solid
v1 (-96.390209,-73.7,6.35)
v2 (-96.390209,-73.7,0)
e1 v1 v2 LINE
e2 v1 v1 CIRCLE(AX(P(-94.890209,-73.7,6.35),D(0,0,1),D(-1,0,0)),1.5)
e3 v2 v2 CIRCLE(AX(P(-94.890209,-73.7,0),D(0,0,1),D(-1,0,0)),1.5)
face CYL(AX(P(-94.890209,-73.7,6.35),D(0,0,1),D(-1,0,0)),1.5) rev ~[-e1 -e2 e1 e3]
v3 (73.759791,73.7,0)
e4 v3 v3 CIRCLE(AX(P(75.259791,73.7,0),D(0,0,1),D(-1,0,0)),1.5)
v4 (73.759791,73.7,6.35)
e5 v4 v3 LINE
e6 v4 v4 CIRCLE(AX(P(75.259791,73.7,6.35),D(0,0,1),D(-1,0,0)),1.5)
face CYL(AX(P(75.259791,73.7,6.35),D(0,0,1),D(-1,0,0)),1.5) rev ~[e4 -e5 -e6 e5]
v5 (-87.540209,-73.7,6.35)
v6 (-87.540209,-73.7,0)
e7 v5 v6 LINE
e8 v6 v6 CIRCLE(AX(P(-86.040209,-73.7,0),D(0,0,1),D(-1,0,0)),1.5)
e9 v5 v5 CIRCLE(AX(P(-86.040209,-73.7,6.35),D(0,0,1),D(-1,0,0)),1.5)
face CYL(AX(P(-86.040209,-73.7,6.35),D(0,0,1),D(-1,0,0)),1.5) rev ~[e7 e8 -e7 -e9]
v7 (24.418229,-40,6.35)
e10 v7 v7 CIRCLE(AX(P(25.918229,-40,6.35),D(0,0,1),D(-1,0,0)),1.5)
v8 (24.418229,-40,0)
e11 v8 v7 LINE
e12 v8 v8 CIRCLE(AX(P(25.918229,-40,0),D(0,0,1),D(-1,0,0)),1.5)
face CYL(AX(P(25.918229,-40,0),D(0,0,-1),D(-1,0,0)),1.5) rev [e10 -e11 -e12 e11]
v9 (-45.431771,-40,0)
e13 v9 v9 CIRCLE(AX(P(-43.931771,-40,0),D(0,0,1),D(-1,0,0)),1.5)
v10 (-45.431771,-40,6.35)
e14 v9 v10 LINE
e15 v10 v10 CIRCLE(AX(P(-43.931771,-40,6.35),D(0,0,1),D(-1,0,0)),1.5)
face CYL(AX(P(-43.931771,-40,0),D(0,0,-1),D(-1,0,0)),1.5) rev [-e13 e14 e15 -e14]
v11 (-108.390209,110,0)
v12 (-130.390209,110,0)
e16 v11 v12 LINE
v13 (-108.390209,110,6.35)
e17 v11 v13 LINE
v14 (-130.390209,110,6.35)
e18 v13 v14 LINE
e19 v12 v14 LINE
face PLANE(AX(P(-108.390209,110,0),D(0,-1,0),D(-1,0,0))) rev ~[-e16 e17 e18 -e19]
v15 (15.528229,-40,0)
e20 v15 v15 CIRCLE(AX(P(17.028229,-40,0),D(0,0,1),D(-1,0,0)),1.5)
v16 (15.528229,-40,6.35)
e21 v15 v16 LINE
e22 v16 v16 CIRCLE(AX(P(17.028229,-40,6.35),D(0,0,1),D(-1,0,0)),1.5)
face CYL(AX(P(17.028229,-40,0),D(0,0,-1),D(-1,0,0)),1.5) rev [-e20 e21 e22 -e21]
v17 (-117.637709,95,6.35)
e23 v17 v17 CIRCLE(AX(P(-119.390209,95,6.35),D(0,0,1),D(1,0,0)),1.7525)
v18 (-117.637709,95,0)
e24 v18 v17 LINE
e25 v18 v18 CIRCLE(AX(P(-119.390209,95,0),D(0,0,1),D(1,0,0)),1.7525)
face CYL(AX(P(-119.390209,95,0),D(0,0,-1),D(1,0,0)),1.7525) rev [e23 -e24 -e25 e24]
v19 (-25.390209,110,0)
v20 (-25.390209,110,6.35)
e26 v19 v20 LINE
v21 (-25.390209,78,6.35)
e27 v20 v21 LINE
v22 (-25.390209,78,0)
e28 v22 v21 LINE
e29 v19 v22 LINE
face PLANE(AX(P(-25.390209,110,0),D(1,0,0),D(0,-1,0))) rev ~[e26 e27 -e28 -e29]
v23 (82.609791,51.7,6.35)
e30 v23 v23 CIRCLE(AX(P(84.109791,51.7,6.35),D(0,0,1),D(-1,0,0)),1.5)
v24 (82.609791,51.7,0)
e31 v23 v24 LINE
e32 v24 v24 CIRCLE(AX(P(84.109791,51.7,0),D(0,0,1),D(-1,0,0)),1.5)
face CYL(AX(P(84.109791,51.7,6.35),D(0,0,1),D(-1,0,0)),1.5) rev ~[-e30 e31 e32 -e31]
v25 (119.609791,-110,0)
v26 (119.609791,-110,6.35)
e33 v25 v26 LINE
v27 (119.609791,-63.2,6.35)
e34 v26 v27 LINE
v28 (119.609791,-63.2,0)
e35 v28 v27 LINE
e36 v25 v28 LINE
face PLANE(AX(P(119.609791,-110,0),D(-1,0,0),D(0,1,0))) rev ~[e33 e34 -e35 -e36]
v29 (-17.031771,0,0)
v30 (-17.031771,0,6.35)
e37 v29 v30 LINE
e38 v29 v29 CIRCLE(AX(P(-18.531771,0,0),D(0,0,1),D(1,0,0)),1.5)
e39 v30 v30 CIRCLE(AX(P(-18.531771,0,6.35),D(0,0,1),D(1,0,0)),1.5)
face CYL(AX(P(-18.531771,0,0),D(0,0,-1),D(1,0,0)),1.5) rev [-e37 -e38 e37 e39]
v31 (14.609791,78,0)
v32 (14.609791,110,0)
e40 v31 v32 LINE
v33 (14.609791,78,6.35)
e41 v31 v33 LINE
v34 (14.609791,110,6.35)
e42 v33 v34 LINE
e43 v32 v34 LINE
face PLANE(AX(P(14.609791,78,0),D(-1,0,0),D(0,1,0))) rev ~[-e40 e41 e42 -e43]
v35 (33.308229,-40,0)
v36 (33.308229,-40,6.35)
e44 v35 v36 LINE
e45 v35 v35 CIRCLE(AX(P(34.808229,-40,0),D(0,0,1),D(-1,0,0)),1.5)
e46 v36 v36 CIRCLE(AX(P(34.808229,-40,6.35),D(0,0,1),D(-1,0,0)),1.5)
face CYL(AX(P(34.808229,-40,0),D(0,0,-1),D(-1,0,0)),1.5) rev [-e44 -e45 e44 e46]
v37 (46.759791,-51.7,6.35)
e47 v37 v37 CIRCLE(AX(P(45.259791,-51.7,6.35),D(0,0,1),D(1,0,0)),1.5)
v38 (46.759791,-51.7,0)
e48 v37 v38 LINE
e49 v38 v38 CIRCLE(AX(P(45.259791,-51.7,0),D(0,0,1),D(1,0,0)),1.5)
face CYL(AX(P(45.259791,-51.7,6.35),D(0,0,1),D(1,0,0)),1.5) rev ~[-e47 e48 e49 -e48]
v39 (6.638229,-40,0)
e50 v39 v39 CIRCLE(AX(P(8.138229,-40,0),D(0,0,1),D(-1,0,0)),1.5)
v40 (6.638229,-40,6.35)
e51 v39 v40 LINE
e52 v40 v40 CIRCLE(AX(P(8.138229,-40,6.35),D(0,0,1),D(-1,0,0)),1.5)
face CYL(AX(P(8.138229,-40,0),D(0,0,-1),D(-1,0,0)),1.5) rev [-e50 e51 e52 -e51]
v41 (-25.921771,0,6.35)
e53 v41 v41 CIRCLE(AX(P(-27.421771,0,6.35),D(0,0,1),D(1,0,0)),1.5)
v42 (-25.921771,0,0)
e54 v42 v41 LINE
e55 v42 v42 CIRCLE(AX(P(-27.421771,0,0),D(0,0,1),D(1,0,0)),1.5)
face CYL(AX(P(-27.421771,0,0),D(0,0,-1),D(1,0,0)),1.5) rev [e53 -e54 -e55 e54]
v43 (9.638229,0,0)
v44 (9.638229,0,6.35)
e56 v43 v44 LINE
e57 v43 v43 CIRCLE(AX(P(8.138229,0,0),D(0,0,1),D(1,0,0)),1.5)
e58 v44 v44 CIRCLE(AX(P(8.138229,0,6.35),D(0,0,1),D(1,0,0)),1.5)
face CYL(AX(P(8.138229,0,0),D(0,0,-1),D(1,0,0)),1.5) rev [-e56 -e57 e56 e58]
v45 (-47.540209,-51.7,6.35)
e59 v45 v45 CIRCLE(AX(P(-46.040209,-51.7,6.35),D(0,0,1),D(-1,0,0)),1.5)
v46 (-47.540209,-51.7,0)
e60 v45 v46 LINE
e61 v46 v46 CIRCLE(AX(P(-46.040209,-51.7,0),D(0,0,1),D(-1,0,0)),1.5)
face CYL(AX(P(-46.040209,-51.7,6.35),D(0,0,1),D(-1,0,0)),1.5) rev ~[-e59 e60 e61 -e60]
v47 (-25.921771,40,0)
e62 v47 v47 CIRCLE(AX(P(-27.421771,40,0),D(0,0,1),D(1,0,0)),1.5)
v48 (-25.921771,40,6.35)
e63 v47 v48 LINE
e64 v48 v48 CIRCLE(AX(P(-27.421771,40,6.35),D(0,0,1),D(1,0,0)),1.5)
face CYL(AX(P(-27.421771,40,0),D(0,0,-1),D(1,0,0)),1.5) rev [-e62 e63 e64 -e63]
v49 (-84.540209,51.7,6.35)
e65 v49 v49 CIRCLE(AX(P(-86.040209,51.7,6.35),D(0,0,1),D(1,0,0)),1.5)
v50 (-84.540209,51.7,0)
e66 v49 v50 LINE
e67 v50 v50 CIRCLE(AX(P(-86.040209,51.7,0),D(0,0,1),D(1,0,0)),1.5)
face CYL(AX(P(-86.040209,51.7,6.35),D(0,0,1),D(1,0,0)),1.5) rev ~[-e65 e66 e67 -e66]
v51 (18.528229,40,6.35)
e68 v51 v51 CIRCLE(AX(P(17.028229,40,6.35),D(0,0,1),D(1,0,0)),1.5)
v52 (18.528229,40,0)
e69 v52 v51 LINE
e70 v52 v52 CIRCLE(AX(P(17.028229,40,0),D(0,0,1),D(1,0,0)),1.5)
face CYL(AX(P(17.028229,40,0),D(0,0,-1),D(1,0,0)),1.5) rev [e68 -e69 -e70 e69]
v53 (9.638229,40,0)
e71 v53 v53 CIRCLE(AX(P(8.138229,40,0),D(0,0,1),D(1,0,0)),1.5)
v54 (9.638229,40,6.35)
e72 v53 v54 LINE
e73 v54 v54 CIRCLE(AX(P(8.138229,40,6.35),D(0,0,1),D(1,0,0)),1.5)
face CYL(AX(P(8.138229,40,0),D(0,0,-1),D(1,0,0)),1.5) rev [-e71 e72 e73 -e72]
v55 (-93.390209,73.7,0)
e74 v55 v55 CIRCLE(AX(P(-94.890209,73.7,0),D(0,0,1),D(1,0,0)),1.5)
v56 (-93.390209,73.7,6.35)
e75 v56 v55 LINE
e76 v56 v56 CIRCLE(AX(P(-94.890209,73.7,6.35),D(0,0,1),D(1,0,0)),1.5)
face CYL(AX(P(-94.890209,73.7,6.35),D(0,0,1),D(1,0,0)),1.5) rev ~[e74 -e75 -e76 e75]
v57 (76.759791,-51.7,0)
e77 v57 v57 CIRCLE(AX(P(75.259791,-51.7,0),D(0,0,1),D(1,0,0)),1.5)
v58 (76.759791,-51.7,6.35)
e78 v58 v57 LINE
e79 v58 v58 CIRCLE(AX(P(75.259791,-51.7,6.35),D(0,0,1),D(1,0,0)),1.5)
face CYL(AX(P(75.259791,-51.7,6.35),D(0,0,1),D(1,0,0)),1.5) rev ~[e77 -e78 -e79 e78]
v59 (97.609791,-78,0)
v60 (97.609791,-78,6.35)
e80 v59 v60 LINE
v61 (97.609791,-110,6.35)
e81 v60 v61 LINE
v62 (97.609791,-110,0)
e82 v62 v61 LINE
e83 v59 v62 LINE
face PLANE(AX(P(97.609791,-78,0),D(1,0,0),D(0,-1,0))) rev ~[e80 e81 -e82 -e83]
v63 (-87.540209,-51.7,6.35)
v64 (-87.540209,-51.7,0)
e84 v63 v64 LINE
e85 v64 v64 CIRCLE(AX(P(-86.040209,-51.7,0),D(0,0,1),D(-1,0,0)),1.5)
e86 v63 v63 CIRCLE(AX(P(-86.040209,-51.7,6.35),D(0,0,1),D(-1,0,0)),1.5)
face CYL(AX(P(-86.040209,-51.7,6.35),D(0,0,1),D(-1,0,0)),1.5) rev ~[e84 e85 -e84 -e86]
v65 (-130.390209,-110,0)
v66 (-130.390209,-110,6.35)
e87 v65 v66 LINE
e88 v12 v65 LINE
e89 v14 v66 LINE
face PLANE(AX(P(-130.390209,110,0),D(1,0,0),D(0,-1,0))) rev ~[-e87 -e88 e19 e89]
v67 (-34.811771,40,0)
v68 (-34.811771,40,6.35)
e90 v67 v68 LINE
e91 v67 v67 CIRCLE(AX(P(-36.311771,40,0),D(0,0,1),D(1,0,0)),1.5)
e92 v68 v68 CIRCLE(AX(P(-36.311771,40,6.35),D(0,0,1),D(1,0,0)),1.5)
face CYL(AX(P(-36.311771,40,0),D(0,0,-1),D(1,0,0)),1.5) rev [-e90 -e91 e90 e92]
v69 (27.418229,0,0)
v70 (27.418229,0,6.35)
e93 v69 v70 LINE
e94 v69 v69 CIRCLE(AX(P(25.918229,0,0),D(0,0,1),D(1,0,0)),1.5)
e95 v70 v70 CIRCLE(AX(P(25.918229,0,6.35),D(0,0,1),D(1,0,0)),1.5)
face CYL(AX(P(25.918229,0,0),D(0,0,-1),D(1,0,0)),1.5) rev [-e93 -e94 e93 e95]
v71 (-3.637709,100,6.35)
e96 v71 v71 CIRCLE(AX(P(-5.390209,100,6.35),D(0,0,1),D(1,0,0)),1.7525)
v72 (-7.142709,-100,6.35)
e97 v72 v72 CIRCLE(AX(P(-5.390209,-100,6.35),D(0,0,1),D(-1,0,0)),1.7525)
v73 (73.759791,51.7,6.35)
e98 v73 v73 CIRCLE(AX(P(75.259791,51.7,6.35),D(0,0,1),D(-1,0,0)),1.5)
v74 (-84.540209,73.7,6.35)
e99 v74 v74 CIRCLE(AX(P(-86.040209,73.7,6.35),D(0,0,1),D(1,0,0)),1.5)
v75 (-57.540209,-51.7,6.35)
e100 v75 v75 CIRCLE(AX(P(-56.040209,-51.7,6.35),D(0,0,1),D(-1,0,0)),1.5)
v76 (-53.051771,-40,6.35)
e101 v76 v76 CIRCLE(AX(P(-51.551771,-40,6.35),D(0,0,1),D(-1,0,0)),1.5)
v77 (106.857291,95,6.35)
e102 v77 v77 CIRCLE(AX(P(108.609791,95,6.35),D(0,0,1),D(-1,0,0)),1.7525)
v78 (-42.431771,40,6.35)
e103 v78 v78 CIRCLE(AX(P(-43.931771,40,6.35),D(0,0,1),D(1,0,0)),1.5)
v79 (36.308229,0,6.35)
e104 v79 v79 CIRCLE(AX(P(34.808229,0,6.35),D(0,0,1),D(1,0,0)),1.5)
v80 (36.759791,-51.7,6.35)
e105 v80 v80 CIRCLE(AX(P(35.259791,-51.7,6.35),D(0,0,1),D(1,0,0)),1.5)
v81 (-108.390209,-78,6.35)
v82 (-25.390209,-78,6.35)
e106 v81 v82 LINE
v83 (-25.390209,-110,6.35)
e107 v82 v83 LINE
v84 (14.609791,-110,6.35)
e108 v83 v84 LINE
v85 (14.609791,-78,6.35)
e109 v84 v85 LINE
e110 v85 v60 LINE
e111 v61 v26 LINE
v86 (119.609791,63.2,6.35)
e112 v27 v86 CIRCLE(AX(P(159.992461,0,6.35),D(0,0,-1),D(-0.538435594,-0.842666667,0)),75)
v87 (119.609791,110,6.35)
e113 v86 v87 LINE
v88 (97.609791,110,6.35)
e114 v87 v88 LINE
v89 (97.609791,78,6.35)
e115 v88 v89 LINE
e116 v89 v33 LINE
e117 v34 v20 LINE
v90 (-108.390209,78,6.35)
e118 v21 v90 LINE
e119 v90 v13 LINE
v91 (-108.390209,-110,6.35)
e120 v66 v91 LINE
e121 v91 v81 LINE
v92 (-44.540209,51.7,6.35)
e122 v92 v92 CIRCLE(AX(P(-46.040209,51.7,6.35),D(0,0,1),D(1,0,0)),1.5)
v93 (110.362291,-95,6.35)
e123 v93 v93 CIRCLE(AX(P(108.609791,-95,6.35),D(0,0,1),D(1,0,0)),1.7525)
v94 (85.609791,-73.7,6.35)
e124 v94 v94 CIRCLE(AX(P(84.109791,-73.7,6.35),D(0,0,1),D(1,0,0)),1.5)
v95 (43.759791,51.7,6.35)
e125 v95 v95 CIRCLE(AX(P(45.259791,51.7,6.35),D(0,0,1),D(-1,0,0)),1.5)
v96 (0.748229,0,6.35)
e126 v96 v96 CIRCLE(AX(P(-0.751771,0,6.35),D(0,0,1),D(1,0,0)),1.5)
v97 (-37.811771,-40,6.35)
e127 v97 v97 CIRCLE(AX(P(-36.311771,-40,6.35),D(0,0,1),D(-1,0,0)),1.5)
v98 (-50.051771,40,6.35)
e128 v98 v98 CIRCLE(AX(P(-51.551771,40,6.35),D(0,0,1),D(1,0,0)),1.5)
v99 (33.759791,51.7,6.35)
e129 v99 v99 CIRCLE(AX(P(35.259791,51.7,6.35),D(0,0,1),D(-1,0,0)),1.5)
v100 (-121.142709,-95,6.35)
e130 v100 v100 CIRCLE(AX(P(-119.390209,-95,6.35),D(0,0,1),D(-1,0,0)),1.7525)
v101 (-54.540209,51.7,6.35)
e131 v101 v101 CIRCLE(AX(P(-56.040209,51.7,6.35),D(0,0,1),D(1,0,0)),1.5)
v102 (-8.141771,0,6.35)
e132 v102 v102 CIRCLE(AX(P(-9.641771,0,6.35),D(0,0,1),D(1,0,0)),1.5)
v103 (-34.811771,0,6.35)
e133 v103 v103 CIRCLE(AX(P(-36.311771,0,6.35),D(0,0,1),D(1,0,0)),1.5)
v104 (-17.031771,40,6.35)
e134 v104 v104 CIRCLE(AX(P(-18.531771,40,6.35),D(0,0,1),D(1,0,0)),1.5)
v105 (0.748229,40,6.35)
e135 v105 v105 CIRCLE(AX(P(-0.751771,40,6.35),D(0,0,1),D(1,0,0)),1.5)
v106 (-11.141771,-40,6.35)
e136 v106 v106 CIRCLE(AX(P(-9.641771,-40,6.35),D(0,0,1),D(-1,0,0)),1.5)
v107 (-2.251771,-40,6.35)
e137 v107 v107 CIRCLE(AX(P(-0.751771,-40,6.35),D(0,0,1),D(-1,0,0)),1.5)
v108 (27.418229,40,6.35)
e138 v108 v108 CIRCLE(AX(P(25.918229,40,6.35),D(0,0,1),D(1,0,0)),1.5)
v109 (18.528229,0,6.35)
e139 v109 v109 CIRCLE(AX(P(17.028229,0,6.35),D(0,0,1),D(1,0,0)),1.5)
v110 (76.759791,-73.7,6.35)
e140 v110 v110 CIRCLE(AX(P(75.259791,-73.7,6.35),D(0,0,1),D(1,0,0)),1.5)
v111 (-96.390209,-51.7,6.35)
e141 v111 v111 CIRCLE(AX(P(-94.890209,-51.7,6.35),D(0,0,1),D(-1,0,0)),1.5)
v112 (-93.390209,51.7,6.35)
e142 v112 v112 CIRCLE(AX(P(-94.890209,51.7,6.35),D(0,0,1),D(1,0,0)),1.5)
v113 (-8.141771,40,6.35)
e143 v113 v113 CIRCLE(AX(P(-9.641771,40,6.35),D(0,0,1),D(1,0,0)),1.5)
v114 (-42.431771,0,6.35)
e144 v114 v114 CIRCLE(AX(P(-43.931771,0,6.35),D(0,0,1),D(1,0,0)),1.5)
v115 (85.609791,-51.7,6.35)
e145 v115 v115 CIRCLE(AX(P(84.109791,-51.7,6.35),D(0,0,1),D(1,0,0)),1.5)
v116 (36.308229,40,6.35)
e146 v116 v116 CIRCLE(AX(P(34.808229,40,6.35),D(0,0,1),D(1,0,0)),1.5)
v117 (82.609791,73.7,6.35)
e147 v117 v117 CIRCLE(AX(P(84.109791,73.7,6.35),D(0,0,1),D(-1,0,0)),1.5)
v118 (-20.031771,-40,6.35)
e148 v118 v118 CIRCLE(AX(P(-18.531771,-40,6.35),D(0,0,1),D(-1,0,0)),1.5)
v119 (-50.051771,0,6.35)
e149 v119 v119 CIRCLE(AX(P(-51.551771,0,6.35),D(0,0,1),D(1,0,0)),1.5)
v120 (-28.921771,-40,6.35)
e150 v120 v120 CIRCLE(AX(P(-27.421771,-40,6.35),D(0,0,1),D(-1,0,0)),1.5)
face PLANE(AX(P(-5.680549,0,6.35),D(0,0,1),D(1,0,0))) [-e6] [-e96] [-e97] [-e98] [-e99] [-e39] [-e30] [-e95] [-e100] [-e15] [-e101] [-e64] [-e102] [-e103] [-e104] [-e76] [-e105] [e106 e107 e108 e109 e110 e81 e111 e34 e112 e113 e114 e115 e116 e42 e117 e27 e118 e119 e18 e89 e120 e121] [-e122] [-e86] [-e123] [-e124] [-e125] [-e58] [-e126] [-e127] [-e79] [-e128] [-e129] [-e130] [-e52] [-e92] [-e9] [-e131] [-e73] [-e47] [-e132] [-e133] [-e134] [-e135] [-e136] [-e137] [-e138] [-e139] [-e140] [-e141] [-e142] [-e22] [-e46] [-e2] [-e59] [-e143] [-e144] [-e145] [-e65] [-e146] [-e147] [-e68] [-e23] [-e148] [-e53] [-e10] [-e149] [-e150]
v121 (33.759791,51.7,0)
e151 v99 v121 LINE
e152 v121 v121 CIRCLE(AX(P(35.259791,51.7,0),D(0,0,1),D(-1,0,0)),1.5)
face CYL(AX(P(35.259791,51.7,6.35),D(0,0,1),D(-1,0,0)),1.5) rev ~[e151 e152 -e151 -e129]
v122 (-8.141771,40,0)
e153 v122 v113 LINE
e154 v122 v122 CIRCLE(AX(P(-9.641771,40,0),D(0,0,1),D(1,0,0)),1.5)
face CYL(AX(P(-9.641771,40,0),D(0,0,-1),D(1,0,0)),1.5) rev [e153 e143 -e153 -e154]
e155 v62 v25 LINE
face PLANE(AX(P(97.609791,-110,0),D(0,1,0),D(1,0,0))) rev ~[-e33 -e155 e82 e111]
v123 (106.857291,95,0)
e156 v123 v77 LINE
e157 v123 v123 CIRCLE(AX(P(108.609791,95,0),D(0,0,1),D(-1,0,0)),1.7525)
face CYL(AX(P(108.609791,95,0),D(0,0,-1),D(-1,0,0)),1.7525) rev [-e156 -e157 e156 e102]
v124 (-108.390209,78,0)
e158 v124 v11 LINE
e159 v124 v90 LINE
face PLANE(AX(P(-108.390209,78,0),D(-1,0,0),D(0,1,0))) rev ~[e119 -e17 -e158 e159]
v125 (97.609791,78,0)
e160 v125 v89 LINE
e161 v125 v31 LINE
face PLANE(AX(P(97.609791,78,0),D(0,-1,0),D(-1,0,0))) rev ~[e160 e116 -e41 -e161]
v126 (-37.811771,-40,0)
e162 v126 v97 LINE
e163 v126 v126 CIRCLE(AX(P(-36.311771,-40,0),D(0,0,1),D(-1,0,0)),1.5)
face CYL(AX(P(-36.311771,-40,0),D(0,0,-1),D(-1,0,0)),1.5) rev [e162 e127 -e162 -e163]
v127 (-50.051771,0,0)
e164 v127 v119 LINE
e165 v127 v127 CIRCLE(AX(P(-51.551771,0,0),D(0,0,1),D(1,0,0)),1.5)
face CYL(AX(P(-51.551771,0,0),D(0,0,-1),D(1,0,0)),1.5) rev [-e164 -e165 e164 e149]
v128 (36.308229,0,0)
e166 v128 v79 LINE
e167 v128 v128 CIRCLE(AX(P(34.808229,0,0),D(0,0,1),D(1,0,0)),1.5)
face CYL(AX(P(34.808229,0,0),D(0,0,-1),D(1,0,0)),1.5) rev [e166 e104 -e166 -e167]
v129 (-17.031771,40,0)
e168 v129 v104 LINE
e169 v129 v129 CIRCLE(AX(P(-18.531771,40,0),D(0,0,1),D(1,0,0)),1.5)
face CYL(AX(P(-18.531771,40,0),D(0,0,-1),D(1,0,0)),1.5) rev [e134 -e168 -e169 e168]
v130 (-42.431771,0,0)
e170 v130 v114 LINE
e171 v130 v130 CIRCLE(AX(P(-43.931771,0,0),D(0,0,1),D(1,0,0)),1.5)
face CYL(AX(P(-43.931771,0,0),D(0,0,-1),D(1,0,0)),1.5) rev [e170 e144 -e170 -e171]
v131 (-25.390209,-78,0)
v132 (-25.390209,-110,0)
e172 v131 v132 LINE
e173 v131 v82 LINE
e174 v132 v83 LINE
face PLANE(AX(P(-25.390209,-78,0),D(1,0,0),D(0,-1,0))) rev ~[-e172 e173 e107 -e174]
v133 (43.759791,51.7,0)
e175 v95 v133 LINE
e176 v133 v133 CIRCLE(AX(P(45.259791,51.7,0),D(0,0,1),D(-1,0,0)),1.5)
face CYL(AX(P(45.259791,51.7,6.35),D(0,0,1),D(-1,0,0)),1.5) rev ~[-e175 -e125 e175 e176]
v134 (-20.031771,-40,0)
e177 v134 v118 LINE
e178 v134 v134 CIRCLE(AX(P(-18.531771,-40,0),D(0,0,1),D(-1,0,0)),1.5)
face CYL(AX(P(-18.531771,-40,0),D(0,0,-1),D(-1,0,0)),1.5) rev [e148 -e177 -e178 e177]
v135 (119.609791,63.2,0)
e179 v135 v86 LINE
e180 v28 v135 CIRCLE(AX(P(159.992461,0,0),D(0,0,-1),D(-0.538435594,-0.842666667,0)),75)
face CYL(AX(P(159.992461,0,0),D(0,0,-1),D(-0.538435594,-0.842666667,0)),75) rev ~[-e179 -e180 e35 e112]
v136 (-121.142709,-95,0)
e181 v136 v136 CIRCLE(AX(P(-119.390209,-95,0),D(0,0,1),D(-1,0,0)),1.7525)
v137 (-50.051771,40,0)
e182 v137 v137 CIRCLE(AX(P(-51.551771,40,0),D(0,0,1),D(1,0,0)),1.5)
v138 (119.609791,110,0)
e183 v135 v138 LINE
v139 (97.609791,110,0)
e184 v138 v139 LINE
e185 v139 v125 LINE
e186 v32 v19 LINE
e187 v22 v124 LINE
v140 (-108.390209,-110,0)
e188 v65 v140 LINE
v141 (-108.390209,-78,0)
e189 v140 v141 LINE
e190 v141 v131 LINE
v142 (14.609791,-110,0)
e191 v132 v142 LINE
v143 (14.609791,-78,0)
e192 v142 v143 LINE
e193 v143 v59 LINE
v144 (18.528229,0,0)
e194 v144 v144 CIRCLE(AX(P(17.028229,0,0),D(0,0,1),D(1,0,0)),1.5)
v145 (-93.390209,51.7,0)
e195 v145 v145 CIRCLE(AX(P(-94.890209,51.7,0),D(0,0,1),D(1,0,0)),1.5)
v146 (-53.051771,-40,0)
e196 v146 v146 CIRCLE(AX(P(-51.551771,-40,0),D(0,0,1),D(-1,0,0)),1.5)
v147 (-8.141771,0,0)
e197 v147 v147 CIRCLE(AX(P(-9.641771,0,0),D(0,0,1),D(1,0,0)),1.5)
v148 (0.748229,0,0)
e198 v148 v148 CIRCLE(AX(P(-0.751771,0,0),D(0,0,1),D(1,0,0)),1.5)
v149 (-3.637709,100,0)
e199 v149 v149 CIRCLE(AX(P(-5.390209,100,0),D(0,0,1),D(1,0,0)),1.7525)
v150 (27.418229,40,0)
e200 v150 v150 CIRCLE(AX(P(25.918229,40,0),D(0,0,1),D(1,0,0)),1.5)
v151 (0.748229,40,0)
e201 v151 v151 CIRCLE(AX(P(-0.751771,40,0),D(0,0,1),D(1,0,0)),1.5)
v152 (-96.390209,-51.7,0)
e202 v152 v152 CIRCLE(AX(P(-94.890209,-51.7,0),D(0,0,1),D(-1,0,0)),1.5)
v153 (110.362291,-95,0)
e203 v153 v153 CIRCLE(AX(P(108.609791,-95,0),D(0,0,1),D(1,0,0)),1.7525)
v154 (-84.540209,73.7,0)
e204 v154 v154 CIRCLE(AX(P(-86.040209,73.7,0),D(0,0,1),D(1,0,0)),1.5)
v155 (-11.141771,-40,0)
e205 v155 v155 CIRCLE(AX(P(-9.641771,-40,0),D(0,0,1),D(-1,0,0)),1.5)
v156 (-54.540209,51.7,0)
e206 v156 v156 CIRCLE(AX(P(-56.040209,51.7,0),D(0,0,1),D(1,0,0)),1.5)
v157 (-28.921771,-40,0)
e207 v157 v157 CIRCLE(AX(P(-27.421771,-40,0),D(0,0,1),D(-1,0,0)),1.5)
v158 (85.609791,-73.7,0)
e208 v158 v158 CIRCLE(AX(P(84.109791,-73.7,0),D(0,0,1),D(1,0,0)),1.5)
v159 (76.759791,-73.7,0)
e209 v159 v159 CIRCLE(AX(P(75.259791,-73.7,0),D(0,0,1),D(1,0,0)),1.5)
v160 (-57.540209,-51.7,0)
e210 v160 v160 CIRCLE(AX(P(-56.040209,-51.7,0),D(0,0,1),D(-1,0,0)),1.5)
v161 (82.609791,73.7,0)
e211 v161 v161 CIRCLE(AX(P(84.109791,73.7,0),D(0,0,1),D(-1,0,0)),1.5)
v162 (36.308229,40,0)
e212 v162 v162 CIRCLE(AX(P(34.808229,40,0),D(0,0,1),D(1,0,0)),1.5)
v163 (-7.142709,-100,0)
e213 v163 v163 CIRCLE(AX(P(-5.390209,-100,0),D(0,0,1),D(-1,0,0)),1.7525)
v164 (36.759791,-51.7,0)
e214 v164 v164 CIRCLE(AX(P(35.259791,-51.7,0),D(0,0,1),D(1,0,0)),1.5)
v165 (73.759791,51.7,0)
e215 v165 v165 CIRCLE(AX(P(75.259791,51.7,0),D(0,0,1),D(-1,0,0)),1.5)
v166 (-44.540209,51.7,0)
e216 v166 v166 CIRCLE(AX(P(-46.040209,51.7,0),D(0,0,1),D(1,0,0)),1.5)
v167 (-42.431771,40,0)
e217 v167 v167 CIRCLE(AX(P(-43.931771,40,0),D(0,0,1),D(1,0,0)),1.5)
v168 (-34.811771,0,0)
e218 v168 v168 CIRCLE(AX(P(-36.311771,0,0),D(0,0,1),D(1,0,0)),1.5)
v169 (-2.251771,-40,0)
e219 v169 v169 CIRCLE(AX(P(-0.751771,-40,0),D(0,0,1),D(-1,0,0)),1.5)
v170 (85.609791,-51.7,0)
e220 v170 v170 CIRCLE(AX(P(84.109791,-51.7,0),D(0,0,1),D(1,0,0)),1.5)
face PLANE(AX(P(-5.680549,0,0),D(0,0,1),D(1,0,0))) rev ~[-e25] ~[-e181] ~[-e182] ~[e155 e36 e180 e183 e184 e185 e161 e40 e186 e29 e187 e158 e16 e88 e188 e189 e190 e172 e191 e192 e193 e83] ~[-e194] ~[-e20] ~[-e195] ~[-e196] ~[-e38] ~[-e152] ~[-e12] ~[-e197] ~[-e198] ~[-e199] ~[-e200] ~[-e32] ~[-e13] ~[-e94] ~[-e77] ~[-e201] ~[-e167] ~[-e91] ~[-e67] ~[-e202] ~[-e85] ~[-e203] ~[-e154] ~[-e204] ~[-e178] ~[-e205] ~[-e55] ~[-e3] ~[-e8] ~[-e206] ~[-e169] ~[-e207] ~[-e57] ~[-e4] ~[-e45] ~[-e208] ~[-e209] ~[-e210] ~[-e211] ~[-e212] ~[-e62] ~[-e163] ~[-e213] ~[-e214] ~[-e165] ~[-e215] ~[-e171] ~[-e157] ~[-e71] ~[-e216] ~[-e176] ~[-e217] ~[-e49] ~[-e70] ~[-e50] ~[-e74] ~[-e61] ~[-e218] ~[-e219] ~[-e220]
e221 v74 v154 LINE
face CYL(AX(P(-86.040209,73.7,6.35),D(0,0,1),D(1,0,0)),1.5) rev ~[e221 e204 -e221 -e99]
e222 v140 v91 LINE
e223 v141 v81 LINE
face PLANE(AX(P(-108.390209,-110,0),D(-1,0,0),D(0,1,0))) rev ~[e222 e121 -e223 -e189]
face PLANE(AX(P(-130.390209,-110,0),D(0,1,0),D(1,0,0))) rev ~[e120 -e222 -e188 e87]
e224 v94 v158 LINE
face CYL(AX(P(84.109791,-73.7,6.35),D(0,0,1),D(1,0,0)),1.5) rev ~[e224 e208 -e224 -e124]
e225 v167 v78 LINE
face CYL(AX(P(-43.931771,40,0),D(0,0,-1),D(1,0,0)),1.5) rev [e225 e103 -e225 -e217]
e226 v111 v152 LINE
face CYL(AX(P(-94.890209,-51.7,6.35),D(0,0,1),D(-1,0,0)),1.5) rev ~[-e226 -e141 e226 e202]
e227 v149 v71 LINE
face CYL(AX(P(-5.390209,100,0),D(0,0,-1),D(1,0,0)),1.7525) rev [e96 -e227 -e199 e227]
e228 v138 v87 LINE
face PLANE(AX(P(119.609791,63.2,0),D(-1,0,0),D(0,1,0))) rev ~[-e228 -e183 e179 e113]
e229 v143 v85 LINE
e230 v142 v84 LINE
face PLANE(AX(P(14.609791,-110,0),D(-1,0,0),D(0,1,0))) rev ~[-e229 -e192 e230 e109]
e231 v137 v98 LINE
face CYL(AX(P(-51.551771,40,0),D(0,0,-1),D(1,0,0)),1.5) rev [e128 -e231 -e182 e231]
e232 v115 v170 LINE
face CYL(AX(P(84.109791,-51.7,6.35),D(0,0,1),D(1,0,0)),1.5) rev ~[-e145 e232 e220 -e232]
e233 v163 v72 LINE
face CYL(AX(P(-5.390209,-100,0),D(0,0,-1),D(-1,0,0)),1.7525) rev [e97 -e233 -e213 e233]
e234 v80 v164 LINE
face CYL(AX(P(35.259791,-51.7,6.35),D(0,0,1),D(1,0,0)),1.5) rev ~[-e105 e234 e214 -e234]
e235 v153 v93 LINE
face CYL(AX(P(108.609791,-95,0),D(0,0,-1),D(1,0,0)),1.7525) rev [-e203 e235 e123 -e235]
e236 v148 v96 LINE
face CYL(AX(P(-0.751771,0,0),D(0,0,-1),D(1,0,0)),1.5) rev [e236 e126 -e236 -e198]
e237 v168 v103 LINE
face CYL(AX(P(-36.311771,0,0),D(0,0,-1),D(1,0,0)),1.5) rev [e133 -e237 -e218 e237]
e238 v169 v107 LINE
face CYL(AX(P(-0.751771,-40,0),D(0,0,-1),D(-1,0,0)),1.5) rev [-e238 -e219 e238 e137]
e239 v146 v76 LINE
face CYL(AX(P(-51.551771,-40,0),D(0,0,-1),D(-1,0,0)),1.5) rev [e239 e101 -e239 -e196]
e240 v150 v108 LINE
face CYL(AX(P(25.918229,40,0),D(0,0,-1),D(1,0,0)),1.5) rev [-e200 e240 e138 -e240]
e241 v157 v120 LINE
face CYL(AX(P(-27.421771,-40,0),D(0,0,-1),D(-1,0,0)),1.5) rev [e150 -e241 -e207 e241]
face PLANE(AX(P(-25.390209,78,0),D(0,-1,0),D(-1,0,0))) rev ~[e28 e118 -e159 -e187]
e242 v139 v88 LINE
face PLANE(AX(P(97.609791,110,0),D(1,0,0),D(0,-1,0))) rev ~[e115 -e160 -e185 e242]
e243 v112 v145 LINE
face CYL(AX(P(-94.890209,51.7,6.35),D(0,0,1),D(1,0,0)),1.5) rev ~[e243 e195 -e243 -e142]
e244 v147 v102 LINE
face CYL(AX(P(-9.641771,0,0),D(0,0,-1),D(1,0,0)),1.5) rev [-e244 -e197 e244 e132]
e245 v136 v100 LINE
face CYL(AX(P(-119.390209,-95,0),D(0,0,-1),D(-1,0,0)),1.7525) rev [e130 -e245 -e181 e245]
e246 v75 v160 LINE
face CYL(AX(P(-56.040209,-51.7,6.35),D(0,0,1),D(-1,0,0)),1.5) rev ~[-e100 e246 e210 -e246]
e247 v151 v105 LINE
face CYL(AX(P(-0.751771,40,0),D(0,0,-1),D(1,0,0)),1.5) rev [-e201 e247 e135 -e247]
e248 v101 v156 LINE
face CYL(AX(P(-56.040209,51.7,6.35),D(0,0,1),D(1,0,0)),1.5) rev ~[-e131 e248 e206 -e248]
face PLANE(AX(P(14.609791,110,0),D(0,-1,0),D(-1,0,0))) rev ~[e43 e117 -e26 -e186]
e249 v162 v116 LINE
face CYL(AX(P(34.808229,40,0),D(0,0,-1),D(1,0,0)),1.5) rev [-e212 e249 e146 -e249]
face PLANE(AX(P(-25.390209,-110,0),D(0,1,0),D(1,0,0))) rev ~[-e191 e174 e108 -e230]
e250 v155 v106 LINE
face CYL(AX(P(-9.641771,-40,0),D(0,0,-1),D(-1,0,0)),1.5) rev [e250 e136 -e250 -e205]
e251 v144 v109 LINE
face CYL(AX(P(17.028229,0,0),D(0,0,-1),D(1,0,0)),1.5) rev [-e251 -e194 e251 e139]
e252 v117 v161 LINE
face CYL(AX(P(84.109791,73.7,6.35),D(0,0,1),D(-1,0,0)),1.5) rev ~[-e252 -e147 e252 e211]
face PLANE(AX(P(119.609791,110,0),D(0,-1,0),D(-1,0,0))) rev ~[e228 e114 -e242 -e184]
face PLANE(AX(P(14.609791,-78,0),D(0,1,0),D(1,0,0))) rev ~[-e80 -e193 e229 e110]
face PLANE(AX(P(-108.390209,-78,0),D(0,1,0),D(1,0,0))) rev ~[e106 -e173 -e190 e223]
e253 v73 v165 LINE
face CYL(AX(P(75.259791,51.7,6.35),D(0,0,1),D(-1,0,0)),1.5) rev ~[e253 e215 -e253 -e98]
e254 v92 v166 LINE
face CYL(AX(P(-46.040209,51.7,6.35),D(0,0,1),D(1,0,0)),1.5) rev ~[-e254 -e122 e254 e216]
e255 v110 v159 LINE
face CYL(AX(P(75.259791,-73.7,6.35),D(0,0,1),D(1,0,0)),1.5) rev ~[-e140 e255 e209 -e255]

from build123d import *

# Parameters (mm, degrees)
SKETCH1_R           = 1.7525
SKETCH1_R_2         = 1.5
BOSS_EXTRUDE1_DEPTH = 6.35
SKETCH3_R           = 1.5
CUT_EXTRUDE2_DEPTH  = 10


with BuildPart() as part:
    # Sketch1 → Boss-Extrude1 (new body)
    with BuildSketch(Plane.XY):
        with BuildLine():
            Line((119.609790965, 110), (97.609790965, 110))
            Line((97.609790965, 110), (97.609790965, 78))
            Line((97.609790965, 78), (14.609790965, 78))
            Line((14.609790965, 78), (14.609790965, 110))
            Line((14.609790965, 110), (-25.390209035, 110))
            Line((-25.390209035, 110), (-25.390209035, 78))
            Line((-25.390209035, 78), (-108.390209035, 78))
            Line((-108.390209035, 78), (-108.390209035, 110))
            Line((-108.390209035, 110), (-130.390209035, 110))
            Line((-130.390209035, 110), (-130.390209035, -110))
            Line((-130.390209035, -110), (-108.390209035, -110))
            Line((-108.390209035, -110), (-108.390209035, -78))
            Line((-108.390209035, -78), (-25.390209035, -78))
            Line((-25.390209035, -78), (-25.390209035, -110))
            Line((-25.390209035, -110), (14.609790965, -110))
            Line((14.609790965, -110), (14.609790965, -78))
            Line((14.609790965, -78), (97.609790965, -78))
            Line((97.609790965, -78), (97.609790965, -110))
            Line((97.609790965, -110), (119.609790965, -110))
            Line((119.609790965, -110), (119.609790965, -63.2))
            ThreePointArc((119.609790965, -63.2), (84.992460515, 0), (119.609790965, 63.2))
            Line((119.609790965, 63.2), (119.609790965, 110))
        make_face()
        with Locations((-119.390209035, 95)):
            Circle(SKETCH1_R, mode=Mode.SUBTRACT)
        with Locations(Location((108.609790965, 95, 0), (0, 0, 180))):
            Circle(SKETCH1_R, mode=Mode.SUBTRACT)
        with Locations((-5.390209035, 100)):
            Circle(SKETCH1_R, mode=Mode.SUBTRACT)
        with Locations(Location((-5.390209035, -100, 0), (0, 0, 180))):
            Circle(SKETCH1_R, mode=Mode.SUBTRACT)
        with Locations((108.609790965, -95)):
            Circle(SKETCH1_R, mode=Mode.SUBTRACT)
        with Locations(Location((-119.390209035, -95, 0), (0, 0, 180))):
            Circle(SKETCH1_R, mode=Mode.SUBTRACT)
        with Locations((-36.311771099, 40)):
            Circle(SKETCH1_R_2, mode=Mode.SUBTRACT)
        with Locations((-36.311771099, 0)):
            Circle(SKETCH1_R_2, mode=Mode.SUBTRACT)
        with Locations(Location((-36.311771099, -40, 0), (0, 0, 180))):
            Circle(SKETCH1_R_2, mode=Mode.SUBTRACT)
        with Locations(Location((-27.421771099, -40, 0), (0, 0, 180))):
            Circle(SKETCH1_R_2, mode=Mode.SUBTRACT)
        with Locations((-27.421771099, 0)):
            Circle(SKETCH1_R_2, mode=Mode.SUBTRACT)
        with Locations((-27.421771099, 40)):
            Circle(SKETCH1_R_2, mode=Mode.SUBTRACT)
        with Locations(Location((-18.531771099, -40, 0), (0, 0, 180))):
            Circle(SKETCH1_R_2, mode=Mode.SUBTRACT)
        with Locations((-18.531771099, 0)):
            Circle(SKETCH1_R_2, mode=Mode.SUBTRACT)
        with Locations((-18.531771099, 40)):
            Circle(SKETCH1_R_2, mode=Mode.SUBTRACT)
        with Locations(Location((-9.641771099, -40, 0), (0, 0, 180))):
            Circle(SKETCH1_R_2, mode=Mode.SUBTRACT)
        with Locations((-9.641771099, 0)):
            Circle(SKETCH1_R_2, mode=Mode.SUBTRACT)
        with Locations((-9.641771099, 40)):
            Circle(SKETCH1_R_2, mode=Mode.SUBTRACT)
        with Locations(Location((-0.751771099, -40, 0), (0, 0, 180))):
            Circle(SKETCH1_R_2, mode=Mode.SUBTRACT)
        with Locations((-0.751771099, 0)):
            Circle(SKETCH1_R_2, mode=Mode.SUBTRACT)
        with Locations((-0.751771099, 40)):
            Circle(SKETCH1_R_2, mode=Mode.SUBTRACT)
        with Locations(Location((8.138228901, -40, 0), (0, 0, 180))):
            Circle(SKETCH1_R_2, mode=Mode.SUBTRACT)
        with Locations((8.138228901, 0)):
            Circle(SKETCH1_R_2, mode=Mode.SUBTRACT)
        with Locations((8.138228901, 40)):
            Circle(SKETCH1_R_2, mode=Mode.SUBTRACT)
        with Locations(Location((17.028228901, -40, 0), (0, 0, 180))):
            Circle(SKETCH1_R_2, mode=Mode.SUBTRACT)
        with Locations((17.028228901, 0)):
            Circle(SKETCH1_R_2, mode=Mode.SUBTRACT)
        with Locations((17.028228901, 40)):
            Circle(SKETCH1_R_2, mode=Mode.SUBTRACT)
        with Locations(Location((25.918228901, -40, 0), (0, 0, 180))):
            Circle(SKETCH1_R_2, mode=Mode.SUBTRACT)
        with Locations((25.918228901, 0)):
            Circle(SKETCH1_R_2, mode=Mode.SUBTRACT)
        with Locations((25.918228901, 40)):
            Circle(SKETCH1_R_2, mode=Mode.SUBTRACT)
        with Locations(Location((34.808228901, -40, 0), (0, 0, 180))):
            Circle(SKETCH1_R_2, mode=Mode.SUBTRACT)
        with Locations((34.808228901, 0)):
            Circle(SKETCH1_R_2, mode=Mode.SUBTRACT)
        with Locations((34.808228901, 40)):
            Circle(SKETCH1_R_2, mode=Mode.SUBTRACT)
        with Locations((-43.931771099, 0)):
            Circle(SKETCH1_R_2, mode=Mode.SUBTRACT)
        with Locations(Location((-43.931771099, -40, 0), (0, 0, 180))):
            Circle(SKETCH1_R_2, mode=Mode.SUBTRACT)
        with Locations((-43.931771099, 40)):
            Circle(SKETCH1_R_2, mode=Mode.SUBTRACT)
        with Locations((-51.551771099, 0)):
            Circle(SKETCH1_R_2, mode=Mode.SUBTRACT)
        with Locations(Location((-51.551771099, -40, 0), (0, 0, 180))):
            Circle(SKETCH1_R_2, mode=Mode.SUBTRACT)
        with Locations((-51.551771099, 40)):
            Circle(SKETCH1_R_2, mode=Mode.SUBTRACT)
    extrude(amount=BOSS_EXTRUDE1_DEPTH)

    # Sketch3 → Cut-Extrude2 (cut)
    with BuildSketch(Plane.XY.offset(6.35)):
        with Locations((-86.040209035, 73.7)):
            Circle(SKETCH3_R)
        with Locations((-86.040209035, 51.7)):
            Circle(SKETCH3_R)
        with Locations((-56.040209035, 51.7)):
            Circle(SKETCH3_R)
        with Locations(Location((-56.040209035, -51.7, 0), (0, 0, 180))):
            Circle(SKETCH3_R)
        with Locations(Location((-86.040209035, -51.7, 0), (0, 0, 180))):
            Circle(SKETCH3_R)
        with Locations(Location((-86.040209035, -73.7, 0), (0, 0, 180))):
            Circle(SKETCH3_R)
        with Locations((75.259790965, -73.7)):
            Circle(SKETCH3_R)
        with Locations((75.259790965, -51.7)):
            Circle(SKETCH3_R)
        with Locations((45.259790965, -51.7)):
            Circle(SKETCH3_R)
        with Locations(Location((45.259790965, 51.7, 0), (0, 0, 180))):
            Circle(SKETCH3_R)
        with Locations(Location((75.259790965, 51.7, 0), (0, 0, 180))):
            Circle(SKETCH3_R)
        with Locations(Location((75.259790965, 73.7, 0), (0, 0, 180))):
            Circle(SKETCH3_R)
        with Locations((-46.040209035, 51.7)):
            Circle(SKETCH3_R)
        with Locations((-94.890209035, 51.7)):
            Circle(SKETCH3_R)
        with Locations((-94.890209035, 73.7)):
            Circle(SKETCH3_R)
        with Locations(Location((-46.040209035, -51.7, 0), (0, 0, 180))):
            Circle(SKETCH3_R)
        with Locations(Location((-94.890209035, -51.7, 0), (0, 0, 180))):
            Circle(SKETCH3_R)
        with Locations(Location((-94.890209035, -73.7, 0), (0, 0, 180))):
            Circle(SKETCH3_R)
        with Locations(Location((35.259790965, 51.7, 0), (0, 0, 180))):
            Circle(SKETCH3_R)
        with Locations(Location((84.109790965, 51.7, 0), (0, 0, 180))):
            Circle(SKETCH3_R)
        with Locations(Location((84.109790965, 73.7, 0), (0, 0, 180))):
            Circle(SKETCH3_R)
        with Locations((84.109790965, -73.7)):
            Circle(SKETCH3_R)
        with Locations((35.259790965, -51.7)):
            Circle(SKETCH3_R)
        with Locations((84.109790965, -51.7)):
            Circle(SKETCH3_R)
    extrude(amount=-CUT_EXTRUDE2_DEPTH, mode=Mode.SUBTRACT)


solid = part.part
